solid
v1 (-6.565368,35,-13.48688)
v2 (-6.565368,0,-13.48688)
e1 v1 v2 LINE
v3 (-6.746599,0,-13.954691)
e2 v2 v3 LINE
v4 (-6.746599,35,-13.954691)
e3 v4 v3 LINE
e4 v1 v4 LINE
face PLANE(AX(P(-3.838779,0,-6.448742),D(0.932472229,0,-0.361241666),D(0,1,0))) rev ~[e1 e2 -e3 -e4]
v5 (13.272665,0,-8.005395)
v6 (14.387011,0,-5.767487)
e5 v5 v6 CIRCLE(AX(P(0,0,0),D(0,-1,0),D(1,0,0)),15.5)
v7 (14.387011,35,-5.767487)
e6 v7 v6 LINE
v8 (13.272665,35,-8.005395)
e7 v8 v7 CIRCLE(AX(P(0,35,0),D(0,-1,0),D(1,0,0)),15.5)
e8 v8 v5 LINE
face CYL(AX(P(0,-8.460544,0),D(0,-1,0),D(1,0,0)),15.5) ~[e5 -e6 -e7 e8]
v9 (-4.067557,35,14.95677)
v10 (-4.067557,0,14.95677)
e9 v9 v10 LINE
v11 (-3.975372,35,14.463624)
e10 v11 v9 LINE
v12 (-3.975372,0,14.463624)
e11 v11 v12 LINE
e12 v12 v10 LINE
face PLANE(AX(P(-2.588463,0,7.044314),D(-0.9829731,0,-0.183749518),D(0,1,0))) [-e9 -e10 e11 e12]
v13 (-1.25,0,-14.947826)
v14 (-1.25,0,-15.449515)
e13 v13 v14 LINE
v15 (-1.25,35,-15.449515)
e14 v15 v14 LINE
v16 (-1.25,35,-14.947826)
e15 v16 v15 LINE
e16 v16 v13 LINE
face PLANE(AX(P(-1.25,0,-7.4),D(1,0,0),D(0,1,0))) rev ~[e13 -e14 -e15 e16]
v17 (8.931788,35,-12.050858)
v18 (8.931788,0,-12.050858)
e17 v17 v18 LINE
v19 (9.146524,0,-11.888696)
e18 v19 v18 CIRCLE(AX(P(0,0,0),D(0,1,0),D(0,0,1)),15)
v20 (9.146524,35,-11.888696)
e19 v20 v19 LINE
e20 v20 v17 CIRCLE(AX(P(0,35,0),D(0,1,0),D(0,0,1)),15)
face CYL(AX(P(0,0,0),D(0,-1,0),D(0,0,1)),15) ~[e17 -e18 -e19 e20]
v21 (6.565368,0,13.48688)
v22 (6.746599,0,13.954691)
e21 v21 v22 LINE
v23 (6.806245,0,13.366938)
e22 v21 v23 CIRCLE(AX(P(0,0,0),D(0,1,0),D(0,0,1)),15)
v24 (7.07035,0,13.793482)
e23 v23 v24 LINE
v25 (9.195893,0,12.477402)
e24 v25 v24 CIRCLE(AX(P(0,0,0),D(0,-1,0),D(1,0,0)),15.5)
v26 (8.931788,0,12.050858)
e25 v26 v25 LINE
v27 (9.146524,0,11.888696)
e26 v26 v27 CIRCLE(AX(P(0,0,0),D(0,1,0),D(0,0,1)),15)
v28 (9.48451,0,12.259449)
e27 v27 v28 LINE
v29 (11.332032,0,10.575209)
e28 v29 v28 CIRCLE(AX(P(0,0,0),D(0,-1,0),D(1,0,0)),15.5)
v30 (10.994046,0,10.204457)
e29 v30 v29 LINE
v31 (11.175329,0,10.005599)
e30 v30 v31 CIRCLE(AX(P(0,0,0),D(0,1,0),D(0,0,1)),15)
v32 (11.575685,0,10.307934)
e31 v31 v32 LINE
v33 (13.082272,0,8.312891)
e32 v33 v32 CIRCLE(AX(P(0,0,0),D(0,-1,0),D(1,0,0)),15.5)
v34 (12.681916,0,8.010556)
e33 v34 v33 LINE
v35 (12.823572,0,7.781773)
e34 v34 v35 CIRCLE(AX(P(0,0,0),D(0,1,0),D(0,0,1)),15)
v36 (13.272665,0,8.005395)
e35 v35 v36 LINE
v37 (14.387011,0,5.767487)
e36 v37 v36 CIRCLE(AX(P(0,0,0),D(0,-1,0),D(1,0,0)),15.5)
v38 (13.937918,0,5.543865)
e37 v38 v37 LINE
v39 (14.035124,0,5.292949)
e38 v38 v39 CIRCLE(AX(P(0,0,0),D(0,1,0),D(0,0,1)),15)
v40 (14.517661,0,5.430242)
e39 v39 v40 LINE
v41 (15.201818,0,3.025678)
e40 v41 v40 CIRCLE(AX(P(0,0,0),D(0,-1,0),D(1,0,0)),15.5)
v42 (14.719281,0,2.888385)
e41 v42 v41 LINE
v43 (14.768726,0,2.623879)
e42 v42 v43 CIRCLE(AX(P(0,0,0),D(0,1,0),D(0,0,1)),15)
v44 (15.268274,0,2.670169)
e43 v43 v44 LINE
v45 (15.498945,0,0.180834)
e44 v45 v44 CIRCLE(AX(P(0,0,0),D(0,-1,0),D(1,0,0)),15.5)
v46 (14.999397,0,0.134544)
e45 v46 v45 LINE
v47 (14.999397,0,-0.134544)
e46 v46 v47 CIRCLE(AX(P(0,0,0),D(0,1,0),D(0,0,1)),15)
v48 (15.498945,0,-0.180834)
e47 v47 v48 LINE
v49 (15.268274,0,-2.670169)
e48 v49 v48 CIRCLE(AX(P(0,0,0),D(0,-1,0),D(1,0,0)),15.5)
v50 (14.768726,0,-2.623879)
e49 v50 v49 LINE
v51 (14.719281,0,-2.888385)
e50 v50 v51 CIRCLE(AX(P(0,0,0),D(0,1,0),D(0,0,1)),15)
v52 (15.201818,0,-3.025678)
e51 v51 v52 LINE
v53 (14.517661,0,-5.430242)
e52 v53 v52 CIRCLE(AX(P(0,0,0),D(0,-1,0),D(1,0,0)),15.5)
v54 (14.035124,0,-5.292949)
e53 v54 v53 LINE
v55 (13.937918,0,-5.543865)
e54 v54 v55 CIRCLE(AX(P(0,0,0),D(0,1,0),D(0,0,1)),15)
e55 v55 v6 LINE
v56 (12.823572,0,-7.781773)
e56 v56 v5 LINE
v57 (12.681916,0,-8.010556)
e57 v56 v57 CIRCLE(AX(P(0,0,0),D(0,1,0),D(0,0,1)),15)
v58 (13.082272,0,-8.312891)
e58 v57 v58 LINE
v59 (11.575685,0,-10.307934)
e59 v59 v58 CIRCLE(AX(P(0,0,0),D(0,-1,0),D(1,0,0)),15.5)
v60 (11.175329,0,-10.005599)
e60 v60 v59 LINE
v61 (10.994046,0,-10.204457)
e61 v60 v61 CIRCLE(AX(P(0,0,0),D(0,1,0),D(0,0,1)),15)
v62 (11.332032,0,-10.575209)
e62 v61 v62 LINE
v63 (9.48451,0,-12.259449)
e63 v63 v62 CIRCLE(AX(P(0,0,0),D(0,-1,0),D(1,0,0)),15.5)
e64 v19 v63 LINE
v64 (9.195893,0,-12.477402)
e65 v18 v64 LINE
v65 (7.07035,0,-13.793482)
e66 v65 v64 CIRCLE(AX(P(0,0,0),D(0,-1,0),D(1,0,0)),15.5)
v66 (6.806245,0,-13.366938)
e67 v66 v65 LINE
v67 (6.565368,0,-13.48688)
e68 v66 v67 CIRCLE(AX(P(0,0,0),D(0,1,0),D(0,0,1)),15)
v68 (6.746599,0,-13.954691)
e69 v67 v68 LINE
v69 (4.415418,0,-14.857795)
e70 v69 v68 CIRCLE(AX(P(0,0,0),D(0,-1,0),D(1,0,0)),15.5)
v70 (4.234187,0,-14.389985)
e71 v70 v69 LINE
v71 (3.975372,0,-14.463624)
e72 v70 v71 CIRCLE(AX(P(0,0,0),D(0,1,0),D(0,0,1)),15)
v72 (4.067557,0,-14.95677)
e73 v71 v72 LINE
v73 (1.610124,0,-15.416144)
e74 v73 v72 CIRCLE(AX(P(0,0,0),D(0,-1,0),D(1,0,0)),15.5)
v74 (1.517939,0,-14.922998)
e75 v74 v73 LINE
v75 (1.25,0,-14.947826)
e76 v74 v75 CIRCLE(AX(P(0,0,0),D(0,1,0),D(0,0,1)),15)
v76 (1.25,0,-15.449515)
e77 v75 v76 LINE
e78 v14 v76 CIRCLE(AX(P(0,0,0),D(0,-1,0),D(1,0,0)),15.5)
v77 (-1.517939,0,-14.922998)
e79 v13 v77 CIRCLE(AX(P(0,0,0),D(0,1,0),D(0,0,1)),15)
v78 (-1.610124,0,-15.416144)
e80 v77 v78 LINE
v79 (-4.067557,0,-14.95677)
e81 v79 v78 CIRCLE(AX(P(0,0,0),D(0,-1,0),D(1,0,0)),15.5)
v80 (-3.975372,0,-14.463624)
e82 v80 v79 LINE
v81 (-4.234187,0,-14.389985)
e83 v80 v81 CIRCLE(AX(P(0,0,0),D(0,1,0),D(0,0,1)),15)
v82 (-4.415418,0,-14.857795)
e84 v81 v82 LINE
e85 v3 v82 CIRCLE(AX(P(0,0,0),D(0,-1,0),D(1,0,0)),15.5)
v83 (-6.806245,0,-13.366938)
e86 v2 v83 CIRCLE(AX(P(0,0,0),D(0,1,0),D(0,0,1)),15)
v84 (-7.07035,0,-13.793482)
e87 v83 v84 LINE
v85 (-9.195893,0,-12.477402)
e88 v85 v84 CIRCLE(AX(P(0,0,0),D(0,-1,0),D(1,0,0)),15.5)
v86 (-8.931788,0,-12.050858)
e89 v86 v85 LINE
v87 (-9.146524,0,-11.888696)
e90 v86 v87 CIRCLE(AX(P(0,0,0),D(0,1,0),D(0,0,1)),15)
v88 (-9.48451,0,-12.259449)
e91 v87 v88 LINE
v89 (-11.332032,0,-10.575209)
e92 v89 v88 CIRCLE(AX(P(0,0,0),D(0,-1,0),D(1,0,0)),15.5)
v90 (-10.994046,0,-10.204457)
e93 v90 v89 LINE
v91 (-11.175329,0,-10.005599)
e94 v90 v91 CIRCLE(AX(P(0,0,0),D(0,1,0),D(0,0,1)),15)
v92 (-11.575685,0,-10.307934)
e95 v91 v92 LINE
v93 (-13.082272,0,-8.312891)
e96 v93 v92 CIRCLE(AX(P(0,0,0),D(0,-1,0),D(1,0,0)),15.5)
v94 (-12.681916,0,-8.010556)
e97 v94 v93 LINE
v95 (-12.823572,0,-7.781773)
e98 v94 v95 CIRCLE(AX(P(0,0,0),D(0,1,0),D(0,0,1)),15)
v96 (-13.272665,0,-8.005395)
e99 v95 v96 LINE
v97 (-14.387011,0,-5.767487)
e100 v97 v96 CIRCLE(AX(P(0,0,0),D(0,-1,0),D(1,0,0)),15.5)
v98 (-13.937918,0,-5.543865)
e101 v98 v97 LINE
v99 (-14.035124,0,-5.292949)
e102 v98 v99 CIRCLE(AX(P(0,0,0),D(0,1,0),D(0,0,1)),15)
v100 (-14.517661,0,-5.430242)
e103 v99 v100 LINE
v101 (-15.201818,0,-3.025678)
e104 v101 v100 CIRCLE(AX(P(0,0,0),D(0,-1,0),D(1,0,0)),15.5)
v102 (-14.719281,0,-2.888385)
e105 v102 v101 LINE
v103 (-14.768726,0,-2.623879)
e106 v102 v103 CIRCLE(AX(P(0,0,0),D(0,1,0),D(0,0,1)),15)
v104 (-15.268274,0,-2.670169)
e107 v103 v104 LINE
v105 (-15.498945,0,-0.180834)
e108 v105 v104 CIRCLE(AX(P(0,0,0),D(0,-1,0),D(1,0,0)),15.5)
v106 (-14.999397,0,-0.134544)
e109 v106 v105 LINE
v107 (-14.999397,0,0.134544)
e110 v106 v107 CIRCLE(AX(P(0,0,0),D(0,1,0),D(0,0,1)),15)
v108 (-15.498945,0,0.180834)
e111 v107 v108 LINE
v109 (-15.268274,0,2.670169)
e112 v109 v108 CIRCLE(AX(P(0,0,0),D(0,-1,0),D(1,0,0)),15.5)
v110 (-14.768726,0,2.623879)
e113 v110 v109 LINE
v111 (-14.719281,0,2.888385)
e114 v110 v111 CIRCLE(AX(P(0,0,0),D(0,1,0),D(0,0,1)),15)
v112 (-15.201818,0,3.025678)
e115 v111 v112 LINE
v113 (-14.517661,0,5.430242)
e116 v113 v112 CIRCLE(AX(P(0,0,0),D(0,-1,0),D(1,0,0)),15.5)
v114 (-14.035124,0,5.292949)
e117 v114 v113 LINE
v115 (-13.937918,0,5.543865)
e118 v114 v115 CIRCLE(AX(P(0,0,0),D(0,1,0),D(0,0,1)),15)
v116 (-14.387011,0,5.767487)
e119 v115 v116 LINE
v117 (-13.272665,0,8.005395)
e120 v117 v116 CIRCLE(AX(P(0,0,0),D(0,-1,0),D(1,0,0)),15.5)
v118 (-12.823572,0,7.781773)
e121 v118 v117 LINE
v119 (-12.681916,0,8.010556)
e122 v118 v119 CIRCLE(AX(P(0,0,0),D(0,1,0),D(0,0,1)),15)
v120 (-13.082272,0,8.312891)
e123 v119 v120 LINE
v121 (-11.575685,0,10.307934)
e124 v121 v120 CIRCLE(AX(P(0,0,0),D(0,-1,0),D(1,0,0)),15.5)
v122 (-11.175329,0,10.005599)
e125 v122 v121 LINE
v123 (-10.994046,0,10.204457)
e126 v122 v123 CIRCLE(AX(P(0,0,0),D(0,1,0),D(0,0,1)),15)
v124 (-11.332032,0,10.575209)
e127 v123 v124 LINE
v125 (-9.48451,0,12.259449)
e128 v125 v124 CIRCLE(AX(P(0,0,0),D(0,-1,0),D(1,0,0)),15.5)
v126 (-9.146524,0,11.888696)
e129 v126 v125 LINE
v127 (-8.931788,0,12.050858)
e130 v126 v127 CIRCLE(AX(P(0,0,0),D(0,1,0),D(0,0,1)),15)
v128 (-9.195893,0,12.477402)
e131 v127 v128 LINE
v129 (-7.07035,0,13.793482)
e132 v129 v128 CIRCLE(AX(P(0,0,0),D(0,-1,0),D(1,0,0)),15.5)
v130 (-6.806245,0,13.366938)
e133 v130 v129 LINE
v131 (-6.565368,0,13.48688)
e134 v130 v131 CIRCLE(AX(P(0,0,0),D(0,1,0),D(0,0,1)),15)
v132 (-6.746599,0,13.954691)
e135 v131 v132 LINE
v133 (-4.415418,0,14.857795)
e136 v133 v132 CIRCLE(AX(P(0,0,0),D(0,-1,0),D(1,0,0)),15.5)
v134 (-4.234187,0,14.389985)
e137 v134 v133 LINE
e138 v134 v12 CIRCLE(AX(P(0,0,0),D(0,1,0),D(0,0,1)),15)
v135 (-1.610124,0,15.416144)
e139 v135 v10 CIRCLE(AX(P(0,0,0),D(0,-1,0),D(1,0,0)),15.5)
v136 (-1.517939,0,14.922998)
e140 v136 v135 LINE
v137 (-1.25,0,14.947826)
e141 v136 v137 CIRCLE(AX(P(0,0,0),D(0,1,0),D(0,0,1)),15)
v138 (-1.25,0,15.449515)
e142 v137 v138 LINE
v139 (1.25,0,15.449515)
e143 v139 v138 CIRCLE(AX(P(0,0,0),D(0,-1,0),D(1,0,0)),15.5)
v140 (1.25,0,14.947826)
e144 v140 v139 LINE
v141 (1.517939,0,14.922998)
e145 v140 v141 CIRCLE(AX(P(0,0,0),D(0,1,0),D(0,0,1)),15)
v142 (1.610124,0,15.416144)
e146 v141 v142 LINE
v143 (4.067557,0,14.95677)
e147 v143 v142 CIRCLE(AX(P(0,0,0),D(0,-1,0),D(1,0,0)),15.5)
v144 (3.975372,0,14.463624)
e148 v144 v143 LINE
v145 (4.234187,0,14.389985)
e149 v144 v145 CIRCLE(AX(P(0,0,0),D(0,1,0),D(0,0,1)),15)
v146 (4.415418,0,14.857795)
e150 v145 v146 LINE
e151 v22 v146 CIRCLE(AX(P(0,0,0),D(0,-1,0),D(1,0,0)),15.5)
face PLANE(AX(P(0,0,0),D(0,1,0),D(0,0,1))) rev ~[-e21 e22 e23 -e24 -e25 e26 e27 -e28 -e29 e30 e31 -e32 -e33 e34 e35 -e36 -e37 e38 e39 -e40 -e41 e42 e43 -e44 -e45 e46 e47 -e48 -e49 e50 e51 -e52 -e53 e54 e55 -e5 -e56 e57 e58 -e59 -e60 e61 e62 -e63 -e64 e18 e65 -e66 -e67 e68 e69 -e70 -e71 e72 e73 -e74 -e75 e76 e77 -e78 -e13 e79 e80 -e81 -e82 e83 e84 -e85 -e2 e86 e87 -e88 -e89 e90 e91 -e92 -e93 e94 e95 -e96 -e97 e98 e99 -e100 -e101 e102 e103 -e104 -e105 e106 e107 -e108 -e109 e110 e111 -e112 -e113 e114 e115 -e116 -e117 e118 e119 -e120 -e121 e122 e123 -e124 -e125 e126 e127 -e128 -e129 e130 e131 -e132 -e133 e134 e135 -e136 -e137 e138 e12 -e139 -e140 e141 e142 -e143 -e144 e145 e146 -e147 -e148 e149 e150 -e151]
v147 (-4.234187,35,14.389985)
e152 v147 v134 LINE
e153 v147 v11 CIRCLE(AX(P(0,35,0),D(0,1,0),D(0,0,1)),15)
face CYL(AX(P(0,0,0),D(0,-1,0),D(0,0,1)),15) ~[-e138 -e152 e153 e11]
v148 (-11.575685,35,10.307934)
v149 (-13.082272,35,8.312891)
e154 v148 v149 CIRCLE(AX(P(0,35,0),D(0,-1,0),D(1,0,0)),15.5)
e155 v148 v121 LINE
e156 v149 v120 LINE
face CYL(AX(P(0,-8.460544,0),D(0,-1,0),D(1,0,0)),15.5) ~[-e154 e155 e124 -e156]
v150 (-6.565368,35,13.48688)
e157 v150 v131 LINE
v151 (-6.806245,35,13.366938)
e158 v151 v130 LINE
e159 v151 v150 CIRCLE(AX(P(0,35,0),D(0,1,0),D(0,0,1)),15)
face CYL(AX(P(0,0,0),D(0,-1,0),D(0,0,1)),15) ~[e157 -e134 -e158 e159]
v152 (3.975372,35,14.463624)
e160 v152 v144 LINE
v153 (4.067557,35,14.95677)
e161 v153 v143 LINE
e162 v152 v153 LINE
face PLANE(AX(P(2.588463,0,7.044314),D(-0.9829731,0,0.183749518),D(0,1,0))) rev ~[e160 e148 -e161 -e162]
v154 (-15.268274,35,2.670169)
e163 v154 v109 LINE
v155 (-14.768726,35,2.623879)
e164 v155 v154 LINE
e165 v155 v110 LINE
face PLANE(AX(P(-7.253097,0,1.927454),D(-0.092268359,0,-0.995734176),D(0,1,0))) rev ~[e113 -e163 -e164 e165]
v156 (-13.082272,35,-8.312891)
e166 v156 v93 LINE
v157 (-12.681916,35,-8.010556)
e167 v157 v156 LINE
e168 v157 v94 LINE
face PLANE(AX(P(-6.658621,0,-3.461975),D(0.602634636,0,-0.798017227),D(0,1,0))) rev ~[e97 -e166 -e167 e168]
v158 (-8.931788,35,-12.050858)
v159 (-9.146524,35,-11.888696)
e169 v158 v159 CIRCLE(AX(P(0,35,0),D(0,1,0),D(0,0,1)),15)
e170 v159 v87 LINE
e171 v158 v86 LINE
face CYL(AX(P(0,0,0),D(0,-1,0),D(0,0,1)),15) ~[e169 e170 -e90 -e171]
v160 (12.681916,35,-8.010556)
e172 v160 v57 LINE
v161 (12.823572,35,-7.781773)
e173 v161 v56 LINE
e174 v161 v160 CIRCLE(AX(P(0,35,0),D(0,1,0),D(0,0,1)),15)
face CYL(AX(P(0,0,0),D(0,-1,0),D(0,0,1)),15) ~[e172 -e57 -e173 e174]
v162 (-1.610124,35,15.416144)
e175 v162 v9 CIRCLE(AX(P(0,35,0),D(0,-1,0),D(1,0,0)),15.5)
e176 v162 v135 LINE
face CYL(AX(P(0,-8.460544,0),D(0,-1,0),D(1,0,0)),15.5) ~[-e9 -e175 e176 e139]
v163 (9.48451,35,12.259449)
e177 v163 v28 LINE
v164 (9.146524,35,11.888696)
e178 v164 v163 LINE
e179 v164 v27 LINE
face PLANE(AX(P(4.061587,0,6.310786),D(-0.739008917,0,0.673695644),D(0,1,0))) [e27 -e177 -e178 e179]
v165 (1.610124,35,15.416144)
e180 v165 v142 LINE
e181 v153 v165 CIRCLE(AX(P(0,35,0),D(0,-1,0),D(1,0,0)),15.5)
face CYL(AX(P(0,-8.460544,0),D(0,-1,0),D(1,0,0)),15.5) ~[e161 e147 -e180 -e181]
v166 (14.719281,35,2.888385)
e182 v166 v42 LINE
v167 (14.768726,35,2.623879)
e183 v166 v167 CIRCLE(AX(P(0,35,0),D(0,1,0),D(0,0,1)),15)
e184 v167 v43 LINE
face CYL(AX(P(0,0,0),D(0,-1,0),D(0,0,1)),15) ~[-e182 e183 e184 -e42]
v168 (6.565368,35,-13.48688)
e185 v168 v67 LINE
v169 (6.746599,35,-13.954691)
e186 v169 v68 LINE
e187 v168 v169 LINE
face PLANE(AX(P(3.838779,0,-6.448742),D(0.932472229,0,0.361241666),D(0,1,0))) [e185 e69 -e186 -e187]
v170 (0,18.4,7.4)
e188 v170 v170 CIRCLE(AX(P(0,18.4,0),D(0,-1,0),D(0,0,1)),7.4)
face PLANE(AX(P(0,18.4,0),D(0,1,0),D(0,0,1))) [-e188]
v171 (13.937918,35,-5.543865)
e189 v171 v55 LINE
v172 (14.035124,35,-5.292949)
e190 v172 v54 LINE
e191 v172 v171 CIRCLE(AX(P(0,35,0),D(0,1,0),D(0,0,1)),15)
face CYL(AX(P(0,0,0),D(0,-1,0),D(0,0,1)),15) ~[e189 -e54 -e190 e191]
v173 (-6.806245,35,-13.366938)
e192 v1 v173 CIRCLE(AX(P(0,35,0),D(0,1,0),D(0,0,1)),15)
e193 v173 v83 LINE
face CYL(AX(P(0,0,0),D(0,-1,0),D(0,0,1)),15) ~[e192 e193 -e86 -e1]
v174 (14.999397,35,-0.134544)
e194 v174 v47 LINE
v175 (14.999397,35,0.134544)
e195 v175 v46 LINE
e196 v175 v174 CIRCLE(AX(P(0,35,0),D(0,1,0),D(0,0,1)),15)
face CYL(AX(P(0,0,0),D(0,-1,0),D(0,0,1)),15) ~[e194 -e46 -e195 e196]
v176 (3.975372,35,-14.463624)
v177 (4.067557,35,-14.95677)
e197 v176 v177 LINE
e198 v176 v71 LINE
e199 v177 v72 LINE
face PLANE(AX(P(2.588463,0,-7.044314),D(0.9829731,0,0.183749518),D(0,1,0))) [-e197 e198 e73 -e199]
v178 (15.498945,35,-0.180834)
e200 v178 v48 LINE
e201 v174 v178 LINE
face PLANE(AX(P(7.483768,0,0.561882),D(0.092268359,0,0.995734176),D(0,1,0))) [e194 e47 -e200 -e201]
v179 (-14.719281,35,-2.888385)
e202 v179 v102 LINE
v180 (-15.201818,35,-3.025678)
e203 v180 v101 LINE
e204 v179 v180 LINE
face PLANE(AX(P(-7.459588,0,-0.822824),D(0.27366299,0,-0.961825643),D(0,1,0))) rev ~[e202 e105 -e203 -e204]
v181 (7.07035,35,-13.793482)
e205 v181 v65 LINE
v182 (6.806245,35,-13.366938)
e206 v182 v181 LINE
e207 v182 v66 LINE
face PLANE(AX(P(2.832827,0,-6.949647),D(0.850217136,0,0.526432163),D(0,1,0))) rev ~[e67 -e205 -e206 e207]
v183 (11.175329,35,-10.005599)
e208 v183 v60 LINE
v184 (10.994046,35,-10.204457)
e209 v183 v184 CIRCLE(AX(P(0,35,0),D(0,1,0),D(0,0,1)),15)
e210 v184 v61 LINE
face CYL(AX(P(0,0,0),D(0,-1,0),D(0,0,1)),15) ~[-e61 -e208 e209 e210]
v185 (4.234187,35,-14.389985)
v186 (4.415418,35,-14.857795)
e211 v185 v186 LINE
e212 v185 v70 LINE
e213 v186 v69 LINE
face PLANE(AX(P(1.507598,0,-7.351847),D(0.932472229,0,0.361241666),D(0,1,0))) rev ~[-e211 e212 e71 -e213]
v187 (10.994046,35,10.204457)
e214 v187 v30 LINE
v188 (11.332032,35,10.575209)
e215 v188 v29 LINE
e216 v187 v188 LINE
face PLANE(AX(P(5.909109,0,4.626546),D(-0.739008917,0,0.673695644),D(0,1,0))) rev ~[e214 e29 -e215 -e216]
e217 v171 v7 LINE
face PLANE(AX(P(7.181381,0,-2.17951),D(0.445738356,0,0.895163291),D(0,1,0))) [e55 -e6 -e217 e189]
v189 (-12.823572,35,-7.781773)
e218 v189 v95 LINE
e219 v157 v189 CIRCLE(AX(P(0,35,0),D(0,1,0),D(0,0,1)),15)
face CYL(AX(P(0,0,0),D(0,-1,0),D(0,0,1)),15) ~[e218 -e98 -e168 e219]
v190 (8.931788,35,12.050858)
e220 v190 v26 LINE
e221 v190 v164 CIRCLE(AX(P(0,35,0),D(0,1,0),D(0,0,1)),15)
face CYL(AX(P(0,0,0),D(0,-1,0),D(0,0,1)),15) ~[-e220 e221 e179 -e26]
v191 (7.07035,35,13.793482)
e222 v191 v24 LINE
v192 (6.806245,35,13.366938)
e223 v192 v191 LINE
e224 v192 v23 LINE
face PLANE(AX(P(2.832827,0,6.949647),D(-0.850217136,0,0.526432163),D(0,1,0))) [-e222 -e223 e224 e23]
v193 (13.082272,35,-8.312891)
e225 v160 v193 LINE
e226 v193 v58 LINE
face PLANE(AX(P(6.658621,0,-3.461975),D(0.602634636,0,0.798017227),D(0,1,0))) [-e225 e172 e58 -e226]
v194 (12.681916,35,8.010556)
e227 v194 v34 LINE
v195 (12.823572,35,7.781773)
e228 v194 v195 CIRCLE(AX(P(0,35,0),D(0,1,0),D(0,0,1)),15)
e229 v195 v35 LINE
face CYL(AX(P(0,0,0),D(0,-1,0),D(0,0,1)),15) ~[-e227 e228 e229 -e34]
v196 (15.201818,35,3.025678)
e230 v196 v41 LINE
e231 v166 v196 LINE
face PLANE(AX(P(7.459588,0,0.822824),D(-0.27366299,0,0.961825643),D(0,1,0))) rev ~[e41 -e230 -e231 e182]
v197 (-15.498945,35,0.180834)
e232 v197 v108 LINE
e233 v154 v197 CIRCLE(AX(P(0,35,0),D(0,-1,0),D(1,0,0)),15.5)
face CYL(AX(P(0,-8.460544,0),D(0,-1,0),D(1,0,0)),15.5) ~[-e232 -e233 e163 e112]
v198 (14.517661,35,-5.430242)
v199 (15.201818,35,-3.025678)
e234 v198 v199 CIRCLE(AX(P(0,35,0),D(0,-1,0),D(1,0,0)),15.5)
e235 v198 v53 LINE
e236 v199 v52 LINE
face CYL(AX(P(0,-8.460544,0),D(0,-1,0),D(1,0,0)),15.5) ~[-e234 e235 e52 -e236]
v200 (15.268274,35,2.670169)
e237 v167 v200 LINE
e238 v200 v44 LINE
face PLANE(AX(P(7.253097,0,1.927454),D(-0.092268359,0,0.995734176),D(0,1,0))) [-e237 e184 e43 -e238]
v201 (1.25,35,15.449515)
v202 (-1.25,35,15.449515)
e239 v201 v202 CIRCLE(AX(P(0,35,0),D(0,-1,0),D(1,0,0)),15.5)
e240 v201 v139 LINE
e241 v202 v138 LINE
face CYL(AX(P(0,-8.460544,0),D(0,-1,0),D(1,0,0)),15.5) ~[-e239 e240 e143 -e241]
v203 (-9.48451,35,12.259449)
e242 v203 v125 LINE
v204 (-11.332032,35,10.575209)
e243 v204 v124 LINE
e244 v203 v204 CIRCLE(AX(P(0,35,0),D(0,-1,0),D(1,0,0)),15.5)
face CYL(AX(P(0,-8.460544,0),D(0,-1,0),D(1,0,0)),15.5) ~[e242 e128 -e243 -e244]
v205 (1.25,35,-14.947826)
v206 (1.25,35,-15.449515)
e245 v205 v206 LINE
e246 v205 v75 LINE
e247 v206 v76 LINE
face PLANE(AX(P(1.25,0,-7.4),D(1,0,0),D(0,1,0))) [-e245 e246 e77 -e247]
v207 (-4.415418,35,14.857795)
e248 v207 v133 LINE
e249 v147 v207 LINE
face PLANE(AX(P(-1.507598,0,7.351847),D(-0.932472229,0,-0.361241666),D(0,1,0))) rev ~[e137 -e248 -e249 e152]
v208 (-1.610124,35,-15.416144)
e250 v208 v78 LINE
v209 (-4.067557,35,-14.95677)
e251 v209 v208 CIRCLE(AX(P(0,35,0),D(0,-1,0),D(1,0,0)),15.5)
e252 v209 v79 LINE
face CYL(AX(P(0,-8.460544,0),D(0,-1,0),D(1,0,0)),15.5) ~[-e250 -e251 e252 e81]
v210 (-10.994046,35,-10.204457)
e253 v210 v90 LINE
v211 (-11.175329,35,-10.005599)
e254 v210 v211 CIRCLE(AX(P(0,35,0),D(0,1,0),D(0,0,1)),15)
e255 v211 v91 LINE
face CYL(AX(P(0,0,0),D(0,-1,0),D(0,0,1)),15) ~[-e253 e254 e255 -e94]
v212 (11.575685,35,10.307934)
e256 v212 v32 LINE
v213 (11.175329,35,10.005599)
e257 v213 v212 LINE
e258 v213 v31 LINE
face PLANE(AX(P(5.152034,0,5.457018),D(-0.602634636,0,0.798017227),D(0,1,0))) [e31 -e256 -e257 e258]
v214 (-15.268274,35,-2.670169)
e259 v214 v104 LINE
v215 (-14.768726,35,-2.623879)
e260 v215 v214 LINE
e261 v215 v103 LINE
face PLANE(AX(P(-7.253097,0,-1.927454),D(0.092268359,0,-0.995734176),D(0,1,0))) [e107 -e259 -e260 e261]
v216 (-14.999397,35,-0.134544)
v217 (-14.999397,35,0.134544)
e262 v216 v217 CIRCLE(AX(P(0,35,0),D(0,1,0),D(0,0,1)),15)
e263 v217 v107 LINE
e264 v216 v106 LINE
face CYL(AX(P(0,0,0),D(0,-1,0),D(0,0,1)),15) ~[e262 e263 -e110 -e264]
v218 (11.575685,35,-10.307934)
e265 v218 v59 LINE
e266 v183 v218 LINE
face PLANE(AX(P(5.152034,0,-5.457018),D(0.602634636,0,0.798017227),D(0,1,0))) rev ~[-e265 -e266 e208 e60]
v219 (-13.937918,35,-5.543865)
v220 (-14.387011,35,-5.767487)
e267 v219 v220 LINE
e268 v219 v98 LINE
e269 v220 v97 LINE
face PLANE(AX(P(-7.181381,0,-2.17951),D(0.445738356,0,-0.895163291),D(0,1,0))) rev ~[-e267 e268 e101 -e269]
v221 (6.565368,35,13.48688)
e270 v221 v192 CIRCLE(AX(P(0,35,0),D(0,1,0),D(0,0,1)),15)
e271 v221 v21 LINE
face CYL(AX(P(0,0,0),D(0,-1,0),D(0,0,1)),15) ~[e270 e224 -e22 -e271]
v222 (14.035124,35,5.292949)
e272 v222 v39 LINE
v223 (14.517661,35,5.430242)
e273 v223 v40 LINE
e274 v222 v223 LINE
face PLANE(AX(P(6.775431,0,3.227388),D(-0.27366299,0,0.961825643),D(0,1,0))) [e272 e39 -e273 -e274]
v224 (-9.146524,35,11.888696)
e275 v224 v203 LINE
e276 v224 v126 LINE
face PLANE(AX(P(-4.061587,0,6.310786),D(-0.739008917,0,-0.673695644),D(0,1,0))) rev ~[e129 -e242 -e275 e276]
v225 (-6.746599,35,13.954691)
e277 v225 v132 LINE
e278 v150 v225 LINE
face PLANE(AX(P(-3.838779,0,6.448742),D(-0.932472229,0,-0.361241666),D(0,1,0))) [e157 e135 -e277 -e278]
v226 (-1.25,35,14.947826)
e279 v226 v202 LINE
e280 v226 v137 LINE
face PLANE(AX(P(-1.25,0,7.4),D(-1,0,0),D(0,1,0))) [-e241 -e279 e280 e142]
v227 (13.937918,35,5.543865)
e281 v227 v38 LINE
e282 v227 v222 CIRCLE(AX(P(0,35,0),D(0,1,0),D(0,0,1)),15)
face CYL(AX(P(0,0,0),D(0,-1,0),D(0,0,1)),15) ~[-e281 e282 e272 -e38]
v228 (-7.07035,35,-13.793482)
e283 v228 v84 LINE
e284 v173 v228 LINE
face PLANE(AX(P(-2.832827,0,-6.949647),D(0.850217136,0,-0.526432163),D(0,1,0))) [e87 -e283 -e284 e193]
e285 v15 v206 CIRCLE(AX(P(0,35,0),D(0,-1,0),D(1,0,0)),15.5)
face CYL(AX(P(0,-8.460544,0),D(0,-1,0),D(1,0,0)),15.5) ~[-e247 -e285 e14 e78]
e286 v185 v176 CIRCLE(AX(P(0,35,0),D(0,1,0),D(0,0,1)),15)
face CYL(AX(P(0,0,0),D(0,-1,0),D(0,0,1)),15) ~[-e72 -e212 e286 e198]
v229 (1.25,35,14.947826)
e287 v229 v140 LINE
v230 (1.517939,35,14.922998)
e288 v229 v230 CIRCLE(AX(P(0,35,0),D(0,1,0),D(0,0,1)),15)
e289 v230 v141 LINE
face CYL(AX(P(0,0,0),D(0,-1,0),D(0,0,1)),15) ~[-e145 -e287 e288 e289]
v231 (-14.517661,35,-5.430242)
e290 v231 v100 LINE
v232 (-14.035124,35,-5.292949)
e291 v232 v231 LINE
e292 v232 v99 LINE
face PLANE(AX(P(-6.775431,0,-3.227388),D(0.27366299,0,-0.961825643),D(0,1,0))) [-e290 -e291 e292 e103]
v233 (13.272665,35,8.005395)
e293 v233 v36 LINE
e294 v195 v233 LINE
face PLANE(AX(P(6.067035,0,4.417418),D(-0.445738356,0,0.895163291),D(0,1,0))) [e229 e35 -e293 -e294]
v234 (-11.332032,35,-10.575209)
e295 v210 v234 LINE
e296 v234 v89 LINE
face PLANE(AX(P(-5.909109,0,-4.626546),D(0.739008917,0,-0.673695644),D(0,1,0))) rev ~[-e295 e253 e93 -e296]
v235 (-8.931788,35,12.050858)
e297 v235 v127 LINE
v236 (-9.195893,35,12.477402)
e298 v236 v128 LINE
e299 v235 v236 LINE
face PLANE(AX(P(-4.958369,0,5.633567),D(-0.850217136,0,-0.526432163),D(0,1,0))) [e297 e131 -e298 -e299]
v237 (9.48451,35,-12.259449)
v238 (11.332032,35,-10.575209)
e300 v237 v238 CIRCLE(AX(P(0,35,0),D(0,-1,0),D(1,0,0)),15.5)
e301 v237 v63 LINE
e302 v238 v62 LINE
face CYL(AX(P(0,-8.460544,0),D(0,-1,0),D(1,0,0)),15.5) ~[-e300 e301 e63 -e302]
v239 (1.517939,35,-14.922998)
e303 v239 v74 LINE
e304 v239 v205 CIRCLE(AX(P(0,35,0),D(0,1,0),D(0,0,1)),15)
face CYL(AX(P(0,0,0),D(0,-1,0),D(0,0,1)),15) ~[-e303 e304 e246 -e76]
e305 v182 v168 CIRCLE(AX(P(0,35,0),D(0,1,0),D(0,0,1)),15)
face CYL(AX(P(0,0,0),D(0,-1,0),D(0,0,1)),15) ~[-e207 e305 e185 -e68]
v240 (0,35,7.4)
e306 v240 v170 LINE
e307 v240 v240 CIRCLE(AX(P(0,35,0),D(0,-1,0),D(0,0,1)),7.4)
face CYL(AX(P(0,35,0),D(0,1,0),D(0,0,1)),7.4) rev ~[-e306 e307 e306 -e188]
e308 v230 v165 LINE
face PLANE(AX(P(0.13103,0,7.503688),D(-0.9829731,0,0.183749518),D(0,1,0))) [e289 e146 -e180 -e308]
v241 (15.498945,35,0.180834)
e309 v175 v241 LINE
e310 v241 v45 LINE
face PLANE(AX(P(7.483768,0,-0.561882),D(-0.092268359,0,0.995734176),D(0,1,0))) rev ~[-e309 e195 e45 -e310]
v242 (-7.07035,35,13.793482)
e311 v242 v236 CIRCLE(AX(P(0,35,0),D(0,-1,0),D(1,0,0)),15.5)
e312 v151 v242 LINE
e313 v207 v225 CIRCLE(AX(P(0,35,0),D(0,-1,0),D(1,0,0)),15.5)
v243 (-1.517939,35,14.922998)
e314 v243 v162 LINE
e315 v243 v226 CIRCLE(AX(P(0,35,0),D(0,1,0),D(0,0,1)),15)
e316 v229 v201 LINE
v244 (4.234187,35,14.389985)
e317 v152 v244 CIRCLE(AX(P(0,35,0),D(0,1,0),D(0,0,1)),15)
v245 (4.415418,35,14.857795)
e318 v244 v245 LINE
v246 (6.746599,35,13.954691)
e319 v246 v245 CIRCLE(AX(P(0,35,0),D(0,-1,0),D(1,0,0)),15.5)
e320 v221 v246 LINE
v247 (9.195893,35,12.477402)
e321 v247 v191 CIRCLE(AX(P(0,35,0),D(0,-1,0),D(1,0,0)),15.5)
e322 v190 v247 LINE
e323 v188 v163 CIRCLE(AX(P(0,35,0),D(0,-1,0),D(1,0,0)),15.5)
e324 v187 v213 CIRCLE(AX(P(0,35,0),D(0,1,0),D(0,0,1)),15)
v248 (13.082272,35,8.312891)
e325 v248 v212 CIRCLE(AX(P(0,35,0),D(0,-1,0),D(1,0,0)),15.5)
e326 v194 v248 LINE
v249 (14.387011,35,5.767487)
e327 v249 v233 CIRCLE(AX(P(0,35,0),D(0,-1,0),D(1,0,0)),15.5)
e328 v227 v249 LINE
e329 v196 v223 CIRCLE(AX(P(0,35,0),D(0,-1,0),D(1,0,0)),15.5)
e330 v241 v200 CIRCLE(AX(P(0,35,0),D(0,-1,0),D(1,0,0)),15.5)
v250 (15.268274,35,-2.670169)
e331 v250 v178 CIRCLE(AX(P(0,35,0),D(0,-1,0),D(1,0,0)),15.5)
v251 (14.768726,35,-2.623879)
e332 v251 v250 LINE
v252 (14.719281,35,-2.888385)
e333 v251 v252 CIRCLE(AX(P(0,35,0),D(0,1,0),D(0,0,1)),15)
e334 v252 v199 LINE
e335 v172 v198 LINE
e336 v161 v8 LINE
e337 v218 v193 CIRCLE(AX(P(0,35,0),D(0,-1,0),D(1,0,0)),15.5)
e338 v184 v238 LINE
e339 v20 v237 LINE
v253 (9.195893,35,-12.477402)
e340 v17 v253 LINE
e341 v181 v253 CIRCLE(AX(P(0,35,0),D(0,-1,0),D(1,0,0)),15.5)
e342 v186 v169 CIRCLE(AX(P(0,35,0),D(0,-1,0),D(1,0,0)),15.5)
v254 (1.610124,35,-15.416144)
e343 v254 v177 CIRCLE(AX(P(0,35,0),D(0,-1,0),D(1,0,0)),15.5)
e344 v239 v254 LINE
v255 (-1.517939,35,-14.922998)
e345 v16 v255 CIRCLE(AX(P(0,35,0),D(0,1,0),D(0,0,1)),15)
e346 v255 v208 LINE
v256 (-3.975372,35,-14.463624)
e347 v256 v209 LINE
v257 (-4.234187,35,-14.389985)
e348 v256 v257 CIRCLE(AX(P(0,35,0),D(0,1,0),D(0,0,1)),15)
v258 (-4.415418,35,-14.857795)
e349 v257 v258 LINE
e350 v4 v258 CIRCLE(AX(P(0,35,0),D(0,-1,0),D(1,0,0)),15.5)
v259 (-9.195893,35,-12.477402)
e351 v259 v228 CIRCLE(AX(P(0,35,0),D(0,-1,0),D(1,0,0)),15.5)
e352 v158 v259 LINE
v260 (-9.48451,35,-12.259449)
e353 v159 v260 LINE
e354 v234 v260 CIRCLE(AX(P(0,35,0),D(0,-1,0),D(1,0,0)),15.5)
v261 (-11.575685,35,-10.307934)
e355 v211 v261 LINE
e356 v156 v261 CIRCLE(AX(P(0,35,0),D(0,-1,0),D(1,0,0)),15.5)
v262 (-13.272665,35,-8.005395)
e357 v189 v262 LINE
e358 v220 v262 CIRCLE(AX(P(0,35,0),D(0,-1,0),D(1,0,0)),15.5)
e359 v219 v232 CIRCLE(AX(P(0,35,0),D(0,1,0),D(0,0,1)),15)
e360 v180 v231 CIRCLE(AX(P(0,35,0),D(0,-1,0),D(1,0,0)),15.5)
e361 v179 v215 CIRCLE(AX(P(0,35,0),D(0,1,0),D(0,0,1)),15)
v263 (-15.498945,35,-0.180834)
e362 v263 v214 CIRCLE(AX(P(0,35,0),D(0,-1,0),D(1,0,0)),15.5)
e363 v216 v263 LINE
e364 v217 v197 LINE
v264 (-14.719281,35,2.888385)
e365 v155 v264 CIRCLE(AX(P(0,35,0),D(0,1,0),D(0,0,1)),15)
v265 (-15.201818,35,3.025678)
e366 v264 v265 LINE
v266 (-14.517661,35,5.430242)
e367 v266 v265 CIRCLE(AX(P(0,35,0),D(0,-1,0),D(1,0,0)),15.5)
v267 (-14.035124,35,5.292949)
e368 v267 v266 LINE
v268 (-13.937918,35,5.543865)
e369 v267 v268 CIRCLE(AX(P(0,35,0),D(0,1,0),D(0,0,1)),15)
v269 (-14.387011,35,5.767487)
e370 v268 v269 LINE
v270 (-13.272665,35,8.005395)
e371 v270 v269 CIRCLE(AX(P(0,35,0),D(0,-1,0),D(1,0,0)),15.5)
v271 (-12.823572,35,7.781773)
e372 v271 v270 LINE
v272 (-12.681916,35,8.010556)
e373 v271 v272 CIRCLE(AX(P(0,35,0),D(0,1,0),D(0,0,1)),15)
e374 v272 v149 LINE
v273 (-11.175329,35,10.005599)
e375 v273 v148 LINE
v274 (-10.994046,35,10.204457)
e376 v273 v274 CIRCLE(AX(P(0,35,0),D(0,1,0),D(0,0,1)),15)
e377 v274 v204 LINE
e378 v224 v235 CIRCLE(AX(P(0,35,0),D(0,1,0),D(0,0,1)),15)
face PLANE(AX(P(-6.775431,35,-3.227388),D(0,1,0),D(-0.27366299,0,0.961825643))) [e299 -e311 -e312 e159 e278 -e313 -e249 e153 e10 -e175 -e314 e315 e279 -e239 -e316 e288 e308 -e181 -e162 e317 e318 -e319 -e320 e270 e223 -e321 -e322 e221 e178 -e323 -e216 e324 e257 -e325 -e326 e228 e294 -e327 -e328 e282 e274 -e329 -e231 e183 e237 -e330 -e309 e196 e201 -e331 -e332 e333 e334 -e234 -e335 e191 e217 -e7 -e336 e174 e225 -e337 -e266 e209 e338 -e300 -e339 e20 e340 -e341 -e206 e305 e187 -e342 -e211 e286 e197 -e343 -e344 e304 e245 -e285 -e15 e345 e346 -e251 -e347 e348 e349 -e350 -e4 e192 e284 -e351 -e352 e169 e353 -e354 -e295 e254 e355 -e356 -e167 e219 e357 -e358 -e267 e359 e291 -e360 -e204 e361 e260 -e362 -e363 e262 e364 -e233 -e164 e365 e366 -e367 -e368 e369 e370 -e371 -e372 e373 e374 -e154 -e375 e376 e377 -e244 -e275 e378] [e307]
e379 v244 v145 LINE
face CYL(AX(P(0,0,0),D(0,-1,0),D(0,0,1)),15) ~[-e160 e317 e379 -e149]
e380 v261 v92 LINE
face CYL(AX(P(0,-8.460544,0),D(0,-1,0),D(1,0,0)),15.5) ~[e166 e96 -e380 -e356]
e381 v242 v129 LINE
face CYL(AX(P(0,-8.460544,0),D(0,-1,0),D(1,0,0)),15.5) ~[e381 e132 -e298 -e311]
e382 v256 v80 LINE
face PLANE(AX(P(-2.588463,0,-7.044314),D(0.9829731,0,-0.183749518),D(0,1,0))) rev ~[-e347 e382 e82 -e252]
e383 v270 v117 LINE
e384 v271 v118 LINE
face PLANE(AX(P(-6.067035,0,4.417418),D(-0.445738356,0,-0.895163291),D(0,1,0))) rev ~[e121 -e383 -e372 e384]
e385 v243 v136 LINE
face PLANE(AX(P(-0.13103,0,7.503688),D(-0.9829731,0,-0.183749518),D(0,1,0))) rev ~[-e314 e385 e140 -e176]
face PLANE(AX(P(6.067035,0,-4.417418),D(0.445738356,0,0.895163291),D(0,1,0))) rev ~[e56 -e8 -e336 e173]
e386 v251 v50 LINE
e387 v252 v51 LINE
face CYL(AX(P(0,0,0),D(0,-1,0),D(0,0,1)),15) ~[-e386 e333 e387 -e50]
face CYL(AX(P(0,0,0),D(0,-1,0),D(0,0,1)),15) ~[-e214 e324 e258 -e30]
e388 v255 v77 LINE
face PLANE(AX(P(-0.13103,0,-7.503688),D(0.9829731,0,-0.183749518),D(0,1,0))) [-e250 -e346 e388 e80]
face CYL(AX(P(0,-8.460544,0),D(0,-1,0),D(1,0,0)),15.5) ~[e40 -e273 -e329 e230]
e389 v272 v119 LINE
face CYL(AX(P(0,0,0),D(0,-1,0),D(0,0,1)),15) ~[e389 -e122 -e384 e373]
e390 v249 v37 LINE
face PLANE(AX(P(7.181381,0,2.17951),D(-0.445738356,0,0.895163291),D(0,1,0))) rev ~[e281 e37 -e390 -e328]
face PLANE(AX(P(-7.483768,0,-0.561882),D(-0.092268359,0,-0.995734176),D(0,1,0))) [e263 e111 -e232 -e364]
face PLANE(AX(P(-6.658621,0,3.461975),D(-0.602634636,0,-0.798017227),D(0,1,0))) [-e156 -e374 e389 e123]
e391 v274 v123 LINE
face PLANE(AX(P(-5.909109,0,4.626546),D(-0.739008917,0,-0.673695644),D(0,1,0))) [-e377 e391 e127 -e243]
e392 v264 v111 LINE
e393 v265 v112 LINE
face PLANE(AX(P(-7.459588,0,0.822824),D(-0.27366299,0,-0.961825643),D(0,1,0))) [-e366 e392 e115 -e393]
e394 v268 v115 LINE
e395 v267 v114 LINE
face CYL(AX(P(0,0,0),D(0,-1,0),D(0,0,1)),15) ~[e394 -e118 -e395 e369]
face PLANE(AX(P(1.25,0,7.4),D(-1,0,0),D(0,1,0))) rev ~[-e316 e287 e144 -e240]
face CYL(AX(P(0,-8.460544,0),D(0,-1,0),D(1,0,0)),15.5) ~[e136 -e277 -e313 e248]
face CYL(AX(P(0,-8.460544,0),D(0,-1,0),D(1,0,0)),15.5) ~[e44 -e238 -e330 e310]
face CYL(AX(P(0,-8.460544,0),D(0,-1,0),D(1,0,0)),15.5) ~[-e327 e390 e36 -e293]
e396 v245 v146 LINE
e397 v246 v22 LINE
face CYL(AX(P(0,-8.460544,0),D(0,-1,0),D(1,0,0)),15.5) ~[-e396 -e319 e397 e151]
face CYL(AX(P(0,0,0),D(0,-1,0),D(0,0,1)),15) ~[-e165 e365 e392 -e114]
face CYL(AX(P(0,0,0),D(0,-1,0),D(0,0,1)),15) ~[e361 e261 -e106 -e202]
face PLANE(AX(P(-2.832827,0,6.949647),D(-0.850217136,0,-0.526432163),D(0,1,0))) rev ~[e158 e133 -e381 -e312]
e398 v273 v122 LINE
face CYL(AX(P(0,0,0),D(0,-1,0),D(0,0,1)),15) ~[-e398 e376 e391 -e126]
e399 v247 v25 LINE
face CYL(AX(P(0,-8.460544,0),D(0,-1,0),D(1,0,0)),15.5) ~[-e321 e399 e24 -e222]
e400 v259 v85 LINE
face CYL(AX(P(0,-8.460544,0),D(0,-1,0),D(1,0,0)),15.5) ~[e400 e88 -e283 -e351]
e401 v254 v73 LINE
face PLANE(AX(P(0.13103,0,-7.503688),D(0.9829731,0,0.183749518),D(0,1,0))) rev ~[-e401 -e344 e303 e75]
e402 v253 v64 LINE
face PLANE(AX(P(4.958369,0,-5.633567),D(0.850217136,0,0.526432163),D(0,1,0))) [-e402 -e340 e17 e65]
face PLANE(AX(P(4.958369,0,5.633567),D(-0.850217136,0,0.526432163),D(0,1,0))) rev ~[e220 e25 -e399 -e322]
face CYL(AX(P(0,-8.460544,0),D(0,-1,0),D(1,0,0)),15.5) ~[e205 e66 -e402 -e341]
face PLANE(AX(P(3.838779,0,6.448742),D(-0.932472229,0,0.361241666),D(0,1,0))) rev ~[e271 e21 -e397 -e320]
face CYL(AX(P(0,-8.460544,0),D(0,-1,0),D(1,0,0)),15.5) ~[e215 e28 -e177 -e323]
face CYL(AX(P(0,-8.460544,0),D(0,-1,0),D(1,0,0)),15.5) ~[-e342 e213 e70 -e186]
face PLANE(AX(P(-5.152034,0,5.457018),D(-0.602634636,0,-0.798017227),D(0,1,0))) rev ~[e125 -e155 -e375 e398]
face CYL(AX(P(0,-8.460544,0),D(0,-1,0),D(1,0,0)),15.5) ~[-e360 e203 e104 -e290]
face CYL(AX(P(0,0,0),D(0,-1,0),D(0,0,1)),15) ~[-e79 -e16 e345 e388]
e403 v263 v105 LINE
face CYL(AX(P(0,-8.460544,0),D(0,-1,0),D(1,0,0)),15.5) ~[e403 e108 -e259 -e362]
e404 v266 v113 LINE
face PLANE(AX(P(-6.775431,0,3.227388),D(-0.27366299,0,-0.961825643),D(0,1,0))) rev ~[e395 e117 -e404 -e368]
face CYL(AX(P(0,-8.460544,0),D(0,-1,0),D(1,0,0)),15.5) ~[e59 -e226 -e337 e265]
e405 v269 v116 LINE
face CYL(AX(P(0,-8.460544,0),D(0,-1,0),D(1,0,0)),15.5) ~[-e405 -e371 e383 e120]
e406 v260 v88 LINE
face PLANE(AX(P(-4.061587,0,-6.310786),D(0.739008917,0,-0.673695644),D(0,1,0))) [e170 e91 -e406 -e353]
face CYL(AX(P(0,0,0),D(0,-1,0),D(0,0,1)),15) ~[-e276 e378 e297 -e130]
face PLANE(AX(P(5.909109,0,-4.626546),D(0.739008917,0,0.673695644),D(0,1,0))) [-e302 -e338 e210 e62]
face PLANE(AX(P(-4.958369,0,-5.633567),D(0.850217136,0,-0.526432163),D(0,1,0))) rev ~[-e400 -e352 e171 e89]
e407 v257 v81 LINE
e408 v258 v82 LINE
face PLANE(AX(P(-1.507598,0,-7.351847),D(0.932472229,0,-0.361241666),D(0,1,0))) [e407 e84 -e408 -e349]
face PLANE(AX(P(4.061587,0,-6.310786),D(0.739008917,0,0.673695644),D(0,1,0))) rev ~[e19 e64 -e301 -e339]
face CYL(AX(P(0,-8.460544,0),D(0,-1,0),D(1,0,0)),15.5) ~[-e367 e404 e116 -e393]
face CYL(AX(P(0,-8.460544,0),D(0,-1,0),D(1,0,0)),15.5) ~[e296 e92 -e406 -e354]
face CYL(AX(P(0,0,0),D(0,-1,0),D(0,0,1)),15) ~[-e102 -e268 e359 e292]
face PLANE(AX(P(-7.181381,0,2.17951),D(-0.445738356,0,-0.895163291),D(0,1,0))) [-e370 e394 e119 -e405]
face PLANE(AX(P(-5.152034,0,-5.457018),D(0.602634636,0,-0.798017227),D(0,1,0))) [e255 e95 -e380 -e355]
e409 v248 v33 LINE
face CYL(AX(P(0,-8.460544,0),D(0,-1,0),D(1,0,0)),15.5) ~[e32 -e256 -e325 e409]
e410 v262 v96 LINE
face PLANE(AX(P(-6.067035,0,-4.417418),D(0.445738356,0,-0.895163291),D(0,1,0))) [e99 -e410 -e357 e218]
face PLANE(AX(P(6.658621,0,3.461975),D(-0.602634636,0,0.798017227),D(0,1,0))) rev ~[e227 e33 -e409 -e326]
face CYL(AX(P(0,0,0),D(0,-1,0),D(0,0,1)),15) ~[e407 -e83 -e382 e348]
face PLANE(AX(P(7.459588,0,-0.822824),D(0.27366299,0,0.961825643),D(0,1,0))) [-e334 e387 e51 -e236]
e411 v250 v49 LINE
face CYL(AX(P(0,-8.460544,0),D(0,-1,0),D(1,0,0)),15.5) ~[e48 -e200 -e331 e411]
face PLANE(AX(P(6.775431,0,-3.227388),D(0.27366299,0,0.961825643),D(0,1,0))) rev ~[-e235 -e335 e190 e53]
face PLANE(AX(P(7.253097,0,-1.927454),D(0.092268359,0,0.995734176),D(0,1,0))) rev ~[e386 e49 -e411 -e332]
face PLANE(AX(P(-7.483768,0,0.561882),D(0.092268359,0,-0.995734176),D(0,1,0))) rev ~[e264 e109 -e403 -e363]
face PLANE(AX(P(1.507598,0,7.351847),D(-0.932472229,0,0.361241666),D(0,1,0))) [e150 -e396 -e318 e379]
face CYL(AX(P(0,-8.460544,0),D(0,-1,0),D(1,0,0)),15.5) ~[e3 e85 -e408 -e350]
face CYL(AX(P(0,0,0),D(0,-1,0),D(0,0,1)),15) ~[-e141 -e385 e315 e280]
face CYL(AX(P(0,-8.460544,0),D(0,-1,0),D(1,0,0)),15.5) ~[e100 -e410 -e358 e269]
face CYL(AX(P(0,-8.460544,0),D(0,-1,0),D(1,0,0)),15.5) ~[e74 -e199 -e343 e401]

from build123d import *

# Parameters (mm, degrees)
SKETCH1_R                = 15
BOSS_EXTRUDE1_DEPTH      = 35
SKETCH2_R                = 7.4
CUT_EXTRUDE1_DEPTH       = 16.6
BOSS_EXTRUDE4_REACH      = 46.179
BOSS_EXTRUDE4_END_RADIUS = 17
SKETCH5_W                = 2.5
SKETCH5_H                = 35
CIRPATTERN1_COUNT        = 34
CUT_EXTRUDE2_DEPTH       = 43.460544331
CUT_EXTRUDE2_DEPTH_BACK  = 43.460544331
SKETCH6_R                = 17
SKETCH6_R_2              = 15.5


with BuildPart() as part:
    # Sketch1 → Boss-Extrude1 (new body)
    with BuildSketch(Plane(origin=(0, 0, 0), x_dir=(1, 0, 0), z_dir=(0, 1, 0))):
        with Locations(Location((0, 0, 0), (0, 0, 270))):
            Circle(SKETCH1_R)
    extrude(amount=BOSS_EXTRUDE1_DEPTH)

    # Sketch2 → Cut-Extrude1 (cut)
    with BuildSketch(Plane(origin=(0, 35, 0), x_dir=(1, 0, 0), z_dir=(0, 1, 0))):
        with Locations(Location((0, 0, 0), (0, 0, 270))):
            Circle(SKETCH2_R)
    extrude(amount=-CUT_EXTRUDE1_DEPTH, mode=Mode.SUBTRACT)

    # Boss-Extrude4: up to this cylinder (the profile starts inside it)
    boss_extrude4_end = Plane(origin=(0, 17.5, 0), z_dir=(0, -1, 0)) * Cylinder(BOSS_EXTRUDE4_END_RADIUS, 127.358, mode=Mode.PRIVATE)
    # Sketch5 → Boss-Extrude4 (add, up to the surface)
    with BuildSketch(Plane.XY.offset(7.4), mode=Mode.PRIVATE) as boss_extrude4_sk1:
        with Locations((0, 17.5)):
            Rectangle(SKETCH5_W, SKETCH5_H)
    boss_extrude4_tool1 = extrude(boss_extrude4_sk1.sketch, amount=BOSS_EXTRUDE4_REACH, mode=Mode.PRIVATE) & boss_extrude4_end
    boss_extrude4 = boss_extrude4_tool1.solids().sort_by_distance((0, 17.5, 7.4))[0]
    add(boss_extrude4)

    # CirPattern1: Boss-Extrude4 ×34 about axis
    cirpattern1_axis = Axis((0, 0, 0), (0, 1, 0))
    for i in range(1, CIRPATTERN1_COUNT):
        add(boss_extrude4.rotate(cirpattern1_axis, i * 360 / CIRPATTERN1_COUNT))

    # Sketch6 → Cut-Extrude2 (cut, two sides: drawn at the far end of the back side and taken through both)
    with BuildSketch(Plane(origin=(0, 35, 0), x_dir=(1, 0, 0), z_dir=(0, 1, 0)).offset(-CUT_EXTRUDE2_DEPTH_BACK)):
        Circle(SKETCH6_R)
        Circle(SKETCH6_R_2, mode=Mode.SUBTRACT)
    extrude(amount=CUT_EXTRUDE2_DEPTH + CUT_EXTRUDE2_DEPTH_BACK, mode=Mode.SUBTRACT)


solid = part.part
